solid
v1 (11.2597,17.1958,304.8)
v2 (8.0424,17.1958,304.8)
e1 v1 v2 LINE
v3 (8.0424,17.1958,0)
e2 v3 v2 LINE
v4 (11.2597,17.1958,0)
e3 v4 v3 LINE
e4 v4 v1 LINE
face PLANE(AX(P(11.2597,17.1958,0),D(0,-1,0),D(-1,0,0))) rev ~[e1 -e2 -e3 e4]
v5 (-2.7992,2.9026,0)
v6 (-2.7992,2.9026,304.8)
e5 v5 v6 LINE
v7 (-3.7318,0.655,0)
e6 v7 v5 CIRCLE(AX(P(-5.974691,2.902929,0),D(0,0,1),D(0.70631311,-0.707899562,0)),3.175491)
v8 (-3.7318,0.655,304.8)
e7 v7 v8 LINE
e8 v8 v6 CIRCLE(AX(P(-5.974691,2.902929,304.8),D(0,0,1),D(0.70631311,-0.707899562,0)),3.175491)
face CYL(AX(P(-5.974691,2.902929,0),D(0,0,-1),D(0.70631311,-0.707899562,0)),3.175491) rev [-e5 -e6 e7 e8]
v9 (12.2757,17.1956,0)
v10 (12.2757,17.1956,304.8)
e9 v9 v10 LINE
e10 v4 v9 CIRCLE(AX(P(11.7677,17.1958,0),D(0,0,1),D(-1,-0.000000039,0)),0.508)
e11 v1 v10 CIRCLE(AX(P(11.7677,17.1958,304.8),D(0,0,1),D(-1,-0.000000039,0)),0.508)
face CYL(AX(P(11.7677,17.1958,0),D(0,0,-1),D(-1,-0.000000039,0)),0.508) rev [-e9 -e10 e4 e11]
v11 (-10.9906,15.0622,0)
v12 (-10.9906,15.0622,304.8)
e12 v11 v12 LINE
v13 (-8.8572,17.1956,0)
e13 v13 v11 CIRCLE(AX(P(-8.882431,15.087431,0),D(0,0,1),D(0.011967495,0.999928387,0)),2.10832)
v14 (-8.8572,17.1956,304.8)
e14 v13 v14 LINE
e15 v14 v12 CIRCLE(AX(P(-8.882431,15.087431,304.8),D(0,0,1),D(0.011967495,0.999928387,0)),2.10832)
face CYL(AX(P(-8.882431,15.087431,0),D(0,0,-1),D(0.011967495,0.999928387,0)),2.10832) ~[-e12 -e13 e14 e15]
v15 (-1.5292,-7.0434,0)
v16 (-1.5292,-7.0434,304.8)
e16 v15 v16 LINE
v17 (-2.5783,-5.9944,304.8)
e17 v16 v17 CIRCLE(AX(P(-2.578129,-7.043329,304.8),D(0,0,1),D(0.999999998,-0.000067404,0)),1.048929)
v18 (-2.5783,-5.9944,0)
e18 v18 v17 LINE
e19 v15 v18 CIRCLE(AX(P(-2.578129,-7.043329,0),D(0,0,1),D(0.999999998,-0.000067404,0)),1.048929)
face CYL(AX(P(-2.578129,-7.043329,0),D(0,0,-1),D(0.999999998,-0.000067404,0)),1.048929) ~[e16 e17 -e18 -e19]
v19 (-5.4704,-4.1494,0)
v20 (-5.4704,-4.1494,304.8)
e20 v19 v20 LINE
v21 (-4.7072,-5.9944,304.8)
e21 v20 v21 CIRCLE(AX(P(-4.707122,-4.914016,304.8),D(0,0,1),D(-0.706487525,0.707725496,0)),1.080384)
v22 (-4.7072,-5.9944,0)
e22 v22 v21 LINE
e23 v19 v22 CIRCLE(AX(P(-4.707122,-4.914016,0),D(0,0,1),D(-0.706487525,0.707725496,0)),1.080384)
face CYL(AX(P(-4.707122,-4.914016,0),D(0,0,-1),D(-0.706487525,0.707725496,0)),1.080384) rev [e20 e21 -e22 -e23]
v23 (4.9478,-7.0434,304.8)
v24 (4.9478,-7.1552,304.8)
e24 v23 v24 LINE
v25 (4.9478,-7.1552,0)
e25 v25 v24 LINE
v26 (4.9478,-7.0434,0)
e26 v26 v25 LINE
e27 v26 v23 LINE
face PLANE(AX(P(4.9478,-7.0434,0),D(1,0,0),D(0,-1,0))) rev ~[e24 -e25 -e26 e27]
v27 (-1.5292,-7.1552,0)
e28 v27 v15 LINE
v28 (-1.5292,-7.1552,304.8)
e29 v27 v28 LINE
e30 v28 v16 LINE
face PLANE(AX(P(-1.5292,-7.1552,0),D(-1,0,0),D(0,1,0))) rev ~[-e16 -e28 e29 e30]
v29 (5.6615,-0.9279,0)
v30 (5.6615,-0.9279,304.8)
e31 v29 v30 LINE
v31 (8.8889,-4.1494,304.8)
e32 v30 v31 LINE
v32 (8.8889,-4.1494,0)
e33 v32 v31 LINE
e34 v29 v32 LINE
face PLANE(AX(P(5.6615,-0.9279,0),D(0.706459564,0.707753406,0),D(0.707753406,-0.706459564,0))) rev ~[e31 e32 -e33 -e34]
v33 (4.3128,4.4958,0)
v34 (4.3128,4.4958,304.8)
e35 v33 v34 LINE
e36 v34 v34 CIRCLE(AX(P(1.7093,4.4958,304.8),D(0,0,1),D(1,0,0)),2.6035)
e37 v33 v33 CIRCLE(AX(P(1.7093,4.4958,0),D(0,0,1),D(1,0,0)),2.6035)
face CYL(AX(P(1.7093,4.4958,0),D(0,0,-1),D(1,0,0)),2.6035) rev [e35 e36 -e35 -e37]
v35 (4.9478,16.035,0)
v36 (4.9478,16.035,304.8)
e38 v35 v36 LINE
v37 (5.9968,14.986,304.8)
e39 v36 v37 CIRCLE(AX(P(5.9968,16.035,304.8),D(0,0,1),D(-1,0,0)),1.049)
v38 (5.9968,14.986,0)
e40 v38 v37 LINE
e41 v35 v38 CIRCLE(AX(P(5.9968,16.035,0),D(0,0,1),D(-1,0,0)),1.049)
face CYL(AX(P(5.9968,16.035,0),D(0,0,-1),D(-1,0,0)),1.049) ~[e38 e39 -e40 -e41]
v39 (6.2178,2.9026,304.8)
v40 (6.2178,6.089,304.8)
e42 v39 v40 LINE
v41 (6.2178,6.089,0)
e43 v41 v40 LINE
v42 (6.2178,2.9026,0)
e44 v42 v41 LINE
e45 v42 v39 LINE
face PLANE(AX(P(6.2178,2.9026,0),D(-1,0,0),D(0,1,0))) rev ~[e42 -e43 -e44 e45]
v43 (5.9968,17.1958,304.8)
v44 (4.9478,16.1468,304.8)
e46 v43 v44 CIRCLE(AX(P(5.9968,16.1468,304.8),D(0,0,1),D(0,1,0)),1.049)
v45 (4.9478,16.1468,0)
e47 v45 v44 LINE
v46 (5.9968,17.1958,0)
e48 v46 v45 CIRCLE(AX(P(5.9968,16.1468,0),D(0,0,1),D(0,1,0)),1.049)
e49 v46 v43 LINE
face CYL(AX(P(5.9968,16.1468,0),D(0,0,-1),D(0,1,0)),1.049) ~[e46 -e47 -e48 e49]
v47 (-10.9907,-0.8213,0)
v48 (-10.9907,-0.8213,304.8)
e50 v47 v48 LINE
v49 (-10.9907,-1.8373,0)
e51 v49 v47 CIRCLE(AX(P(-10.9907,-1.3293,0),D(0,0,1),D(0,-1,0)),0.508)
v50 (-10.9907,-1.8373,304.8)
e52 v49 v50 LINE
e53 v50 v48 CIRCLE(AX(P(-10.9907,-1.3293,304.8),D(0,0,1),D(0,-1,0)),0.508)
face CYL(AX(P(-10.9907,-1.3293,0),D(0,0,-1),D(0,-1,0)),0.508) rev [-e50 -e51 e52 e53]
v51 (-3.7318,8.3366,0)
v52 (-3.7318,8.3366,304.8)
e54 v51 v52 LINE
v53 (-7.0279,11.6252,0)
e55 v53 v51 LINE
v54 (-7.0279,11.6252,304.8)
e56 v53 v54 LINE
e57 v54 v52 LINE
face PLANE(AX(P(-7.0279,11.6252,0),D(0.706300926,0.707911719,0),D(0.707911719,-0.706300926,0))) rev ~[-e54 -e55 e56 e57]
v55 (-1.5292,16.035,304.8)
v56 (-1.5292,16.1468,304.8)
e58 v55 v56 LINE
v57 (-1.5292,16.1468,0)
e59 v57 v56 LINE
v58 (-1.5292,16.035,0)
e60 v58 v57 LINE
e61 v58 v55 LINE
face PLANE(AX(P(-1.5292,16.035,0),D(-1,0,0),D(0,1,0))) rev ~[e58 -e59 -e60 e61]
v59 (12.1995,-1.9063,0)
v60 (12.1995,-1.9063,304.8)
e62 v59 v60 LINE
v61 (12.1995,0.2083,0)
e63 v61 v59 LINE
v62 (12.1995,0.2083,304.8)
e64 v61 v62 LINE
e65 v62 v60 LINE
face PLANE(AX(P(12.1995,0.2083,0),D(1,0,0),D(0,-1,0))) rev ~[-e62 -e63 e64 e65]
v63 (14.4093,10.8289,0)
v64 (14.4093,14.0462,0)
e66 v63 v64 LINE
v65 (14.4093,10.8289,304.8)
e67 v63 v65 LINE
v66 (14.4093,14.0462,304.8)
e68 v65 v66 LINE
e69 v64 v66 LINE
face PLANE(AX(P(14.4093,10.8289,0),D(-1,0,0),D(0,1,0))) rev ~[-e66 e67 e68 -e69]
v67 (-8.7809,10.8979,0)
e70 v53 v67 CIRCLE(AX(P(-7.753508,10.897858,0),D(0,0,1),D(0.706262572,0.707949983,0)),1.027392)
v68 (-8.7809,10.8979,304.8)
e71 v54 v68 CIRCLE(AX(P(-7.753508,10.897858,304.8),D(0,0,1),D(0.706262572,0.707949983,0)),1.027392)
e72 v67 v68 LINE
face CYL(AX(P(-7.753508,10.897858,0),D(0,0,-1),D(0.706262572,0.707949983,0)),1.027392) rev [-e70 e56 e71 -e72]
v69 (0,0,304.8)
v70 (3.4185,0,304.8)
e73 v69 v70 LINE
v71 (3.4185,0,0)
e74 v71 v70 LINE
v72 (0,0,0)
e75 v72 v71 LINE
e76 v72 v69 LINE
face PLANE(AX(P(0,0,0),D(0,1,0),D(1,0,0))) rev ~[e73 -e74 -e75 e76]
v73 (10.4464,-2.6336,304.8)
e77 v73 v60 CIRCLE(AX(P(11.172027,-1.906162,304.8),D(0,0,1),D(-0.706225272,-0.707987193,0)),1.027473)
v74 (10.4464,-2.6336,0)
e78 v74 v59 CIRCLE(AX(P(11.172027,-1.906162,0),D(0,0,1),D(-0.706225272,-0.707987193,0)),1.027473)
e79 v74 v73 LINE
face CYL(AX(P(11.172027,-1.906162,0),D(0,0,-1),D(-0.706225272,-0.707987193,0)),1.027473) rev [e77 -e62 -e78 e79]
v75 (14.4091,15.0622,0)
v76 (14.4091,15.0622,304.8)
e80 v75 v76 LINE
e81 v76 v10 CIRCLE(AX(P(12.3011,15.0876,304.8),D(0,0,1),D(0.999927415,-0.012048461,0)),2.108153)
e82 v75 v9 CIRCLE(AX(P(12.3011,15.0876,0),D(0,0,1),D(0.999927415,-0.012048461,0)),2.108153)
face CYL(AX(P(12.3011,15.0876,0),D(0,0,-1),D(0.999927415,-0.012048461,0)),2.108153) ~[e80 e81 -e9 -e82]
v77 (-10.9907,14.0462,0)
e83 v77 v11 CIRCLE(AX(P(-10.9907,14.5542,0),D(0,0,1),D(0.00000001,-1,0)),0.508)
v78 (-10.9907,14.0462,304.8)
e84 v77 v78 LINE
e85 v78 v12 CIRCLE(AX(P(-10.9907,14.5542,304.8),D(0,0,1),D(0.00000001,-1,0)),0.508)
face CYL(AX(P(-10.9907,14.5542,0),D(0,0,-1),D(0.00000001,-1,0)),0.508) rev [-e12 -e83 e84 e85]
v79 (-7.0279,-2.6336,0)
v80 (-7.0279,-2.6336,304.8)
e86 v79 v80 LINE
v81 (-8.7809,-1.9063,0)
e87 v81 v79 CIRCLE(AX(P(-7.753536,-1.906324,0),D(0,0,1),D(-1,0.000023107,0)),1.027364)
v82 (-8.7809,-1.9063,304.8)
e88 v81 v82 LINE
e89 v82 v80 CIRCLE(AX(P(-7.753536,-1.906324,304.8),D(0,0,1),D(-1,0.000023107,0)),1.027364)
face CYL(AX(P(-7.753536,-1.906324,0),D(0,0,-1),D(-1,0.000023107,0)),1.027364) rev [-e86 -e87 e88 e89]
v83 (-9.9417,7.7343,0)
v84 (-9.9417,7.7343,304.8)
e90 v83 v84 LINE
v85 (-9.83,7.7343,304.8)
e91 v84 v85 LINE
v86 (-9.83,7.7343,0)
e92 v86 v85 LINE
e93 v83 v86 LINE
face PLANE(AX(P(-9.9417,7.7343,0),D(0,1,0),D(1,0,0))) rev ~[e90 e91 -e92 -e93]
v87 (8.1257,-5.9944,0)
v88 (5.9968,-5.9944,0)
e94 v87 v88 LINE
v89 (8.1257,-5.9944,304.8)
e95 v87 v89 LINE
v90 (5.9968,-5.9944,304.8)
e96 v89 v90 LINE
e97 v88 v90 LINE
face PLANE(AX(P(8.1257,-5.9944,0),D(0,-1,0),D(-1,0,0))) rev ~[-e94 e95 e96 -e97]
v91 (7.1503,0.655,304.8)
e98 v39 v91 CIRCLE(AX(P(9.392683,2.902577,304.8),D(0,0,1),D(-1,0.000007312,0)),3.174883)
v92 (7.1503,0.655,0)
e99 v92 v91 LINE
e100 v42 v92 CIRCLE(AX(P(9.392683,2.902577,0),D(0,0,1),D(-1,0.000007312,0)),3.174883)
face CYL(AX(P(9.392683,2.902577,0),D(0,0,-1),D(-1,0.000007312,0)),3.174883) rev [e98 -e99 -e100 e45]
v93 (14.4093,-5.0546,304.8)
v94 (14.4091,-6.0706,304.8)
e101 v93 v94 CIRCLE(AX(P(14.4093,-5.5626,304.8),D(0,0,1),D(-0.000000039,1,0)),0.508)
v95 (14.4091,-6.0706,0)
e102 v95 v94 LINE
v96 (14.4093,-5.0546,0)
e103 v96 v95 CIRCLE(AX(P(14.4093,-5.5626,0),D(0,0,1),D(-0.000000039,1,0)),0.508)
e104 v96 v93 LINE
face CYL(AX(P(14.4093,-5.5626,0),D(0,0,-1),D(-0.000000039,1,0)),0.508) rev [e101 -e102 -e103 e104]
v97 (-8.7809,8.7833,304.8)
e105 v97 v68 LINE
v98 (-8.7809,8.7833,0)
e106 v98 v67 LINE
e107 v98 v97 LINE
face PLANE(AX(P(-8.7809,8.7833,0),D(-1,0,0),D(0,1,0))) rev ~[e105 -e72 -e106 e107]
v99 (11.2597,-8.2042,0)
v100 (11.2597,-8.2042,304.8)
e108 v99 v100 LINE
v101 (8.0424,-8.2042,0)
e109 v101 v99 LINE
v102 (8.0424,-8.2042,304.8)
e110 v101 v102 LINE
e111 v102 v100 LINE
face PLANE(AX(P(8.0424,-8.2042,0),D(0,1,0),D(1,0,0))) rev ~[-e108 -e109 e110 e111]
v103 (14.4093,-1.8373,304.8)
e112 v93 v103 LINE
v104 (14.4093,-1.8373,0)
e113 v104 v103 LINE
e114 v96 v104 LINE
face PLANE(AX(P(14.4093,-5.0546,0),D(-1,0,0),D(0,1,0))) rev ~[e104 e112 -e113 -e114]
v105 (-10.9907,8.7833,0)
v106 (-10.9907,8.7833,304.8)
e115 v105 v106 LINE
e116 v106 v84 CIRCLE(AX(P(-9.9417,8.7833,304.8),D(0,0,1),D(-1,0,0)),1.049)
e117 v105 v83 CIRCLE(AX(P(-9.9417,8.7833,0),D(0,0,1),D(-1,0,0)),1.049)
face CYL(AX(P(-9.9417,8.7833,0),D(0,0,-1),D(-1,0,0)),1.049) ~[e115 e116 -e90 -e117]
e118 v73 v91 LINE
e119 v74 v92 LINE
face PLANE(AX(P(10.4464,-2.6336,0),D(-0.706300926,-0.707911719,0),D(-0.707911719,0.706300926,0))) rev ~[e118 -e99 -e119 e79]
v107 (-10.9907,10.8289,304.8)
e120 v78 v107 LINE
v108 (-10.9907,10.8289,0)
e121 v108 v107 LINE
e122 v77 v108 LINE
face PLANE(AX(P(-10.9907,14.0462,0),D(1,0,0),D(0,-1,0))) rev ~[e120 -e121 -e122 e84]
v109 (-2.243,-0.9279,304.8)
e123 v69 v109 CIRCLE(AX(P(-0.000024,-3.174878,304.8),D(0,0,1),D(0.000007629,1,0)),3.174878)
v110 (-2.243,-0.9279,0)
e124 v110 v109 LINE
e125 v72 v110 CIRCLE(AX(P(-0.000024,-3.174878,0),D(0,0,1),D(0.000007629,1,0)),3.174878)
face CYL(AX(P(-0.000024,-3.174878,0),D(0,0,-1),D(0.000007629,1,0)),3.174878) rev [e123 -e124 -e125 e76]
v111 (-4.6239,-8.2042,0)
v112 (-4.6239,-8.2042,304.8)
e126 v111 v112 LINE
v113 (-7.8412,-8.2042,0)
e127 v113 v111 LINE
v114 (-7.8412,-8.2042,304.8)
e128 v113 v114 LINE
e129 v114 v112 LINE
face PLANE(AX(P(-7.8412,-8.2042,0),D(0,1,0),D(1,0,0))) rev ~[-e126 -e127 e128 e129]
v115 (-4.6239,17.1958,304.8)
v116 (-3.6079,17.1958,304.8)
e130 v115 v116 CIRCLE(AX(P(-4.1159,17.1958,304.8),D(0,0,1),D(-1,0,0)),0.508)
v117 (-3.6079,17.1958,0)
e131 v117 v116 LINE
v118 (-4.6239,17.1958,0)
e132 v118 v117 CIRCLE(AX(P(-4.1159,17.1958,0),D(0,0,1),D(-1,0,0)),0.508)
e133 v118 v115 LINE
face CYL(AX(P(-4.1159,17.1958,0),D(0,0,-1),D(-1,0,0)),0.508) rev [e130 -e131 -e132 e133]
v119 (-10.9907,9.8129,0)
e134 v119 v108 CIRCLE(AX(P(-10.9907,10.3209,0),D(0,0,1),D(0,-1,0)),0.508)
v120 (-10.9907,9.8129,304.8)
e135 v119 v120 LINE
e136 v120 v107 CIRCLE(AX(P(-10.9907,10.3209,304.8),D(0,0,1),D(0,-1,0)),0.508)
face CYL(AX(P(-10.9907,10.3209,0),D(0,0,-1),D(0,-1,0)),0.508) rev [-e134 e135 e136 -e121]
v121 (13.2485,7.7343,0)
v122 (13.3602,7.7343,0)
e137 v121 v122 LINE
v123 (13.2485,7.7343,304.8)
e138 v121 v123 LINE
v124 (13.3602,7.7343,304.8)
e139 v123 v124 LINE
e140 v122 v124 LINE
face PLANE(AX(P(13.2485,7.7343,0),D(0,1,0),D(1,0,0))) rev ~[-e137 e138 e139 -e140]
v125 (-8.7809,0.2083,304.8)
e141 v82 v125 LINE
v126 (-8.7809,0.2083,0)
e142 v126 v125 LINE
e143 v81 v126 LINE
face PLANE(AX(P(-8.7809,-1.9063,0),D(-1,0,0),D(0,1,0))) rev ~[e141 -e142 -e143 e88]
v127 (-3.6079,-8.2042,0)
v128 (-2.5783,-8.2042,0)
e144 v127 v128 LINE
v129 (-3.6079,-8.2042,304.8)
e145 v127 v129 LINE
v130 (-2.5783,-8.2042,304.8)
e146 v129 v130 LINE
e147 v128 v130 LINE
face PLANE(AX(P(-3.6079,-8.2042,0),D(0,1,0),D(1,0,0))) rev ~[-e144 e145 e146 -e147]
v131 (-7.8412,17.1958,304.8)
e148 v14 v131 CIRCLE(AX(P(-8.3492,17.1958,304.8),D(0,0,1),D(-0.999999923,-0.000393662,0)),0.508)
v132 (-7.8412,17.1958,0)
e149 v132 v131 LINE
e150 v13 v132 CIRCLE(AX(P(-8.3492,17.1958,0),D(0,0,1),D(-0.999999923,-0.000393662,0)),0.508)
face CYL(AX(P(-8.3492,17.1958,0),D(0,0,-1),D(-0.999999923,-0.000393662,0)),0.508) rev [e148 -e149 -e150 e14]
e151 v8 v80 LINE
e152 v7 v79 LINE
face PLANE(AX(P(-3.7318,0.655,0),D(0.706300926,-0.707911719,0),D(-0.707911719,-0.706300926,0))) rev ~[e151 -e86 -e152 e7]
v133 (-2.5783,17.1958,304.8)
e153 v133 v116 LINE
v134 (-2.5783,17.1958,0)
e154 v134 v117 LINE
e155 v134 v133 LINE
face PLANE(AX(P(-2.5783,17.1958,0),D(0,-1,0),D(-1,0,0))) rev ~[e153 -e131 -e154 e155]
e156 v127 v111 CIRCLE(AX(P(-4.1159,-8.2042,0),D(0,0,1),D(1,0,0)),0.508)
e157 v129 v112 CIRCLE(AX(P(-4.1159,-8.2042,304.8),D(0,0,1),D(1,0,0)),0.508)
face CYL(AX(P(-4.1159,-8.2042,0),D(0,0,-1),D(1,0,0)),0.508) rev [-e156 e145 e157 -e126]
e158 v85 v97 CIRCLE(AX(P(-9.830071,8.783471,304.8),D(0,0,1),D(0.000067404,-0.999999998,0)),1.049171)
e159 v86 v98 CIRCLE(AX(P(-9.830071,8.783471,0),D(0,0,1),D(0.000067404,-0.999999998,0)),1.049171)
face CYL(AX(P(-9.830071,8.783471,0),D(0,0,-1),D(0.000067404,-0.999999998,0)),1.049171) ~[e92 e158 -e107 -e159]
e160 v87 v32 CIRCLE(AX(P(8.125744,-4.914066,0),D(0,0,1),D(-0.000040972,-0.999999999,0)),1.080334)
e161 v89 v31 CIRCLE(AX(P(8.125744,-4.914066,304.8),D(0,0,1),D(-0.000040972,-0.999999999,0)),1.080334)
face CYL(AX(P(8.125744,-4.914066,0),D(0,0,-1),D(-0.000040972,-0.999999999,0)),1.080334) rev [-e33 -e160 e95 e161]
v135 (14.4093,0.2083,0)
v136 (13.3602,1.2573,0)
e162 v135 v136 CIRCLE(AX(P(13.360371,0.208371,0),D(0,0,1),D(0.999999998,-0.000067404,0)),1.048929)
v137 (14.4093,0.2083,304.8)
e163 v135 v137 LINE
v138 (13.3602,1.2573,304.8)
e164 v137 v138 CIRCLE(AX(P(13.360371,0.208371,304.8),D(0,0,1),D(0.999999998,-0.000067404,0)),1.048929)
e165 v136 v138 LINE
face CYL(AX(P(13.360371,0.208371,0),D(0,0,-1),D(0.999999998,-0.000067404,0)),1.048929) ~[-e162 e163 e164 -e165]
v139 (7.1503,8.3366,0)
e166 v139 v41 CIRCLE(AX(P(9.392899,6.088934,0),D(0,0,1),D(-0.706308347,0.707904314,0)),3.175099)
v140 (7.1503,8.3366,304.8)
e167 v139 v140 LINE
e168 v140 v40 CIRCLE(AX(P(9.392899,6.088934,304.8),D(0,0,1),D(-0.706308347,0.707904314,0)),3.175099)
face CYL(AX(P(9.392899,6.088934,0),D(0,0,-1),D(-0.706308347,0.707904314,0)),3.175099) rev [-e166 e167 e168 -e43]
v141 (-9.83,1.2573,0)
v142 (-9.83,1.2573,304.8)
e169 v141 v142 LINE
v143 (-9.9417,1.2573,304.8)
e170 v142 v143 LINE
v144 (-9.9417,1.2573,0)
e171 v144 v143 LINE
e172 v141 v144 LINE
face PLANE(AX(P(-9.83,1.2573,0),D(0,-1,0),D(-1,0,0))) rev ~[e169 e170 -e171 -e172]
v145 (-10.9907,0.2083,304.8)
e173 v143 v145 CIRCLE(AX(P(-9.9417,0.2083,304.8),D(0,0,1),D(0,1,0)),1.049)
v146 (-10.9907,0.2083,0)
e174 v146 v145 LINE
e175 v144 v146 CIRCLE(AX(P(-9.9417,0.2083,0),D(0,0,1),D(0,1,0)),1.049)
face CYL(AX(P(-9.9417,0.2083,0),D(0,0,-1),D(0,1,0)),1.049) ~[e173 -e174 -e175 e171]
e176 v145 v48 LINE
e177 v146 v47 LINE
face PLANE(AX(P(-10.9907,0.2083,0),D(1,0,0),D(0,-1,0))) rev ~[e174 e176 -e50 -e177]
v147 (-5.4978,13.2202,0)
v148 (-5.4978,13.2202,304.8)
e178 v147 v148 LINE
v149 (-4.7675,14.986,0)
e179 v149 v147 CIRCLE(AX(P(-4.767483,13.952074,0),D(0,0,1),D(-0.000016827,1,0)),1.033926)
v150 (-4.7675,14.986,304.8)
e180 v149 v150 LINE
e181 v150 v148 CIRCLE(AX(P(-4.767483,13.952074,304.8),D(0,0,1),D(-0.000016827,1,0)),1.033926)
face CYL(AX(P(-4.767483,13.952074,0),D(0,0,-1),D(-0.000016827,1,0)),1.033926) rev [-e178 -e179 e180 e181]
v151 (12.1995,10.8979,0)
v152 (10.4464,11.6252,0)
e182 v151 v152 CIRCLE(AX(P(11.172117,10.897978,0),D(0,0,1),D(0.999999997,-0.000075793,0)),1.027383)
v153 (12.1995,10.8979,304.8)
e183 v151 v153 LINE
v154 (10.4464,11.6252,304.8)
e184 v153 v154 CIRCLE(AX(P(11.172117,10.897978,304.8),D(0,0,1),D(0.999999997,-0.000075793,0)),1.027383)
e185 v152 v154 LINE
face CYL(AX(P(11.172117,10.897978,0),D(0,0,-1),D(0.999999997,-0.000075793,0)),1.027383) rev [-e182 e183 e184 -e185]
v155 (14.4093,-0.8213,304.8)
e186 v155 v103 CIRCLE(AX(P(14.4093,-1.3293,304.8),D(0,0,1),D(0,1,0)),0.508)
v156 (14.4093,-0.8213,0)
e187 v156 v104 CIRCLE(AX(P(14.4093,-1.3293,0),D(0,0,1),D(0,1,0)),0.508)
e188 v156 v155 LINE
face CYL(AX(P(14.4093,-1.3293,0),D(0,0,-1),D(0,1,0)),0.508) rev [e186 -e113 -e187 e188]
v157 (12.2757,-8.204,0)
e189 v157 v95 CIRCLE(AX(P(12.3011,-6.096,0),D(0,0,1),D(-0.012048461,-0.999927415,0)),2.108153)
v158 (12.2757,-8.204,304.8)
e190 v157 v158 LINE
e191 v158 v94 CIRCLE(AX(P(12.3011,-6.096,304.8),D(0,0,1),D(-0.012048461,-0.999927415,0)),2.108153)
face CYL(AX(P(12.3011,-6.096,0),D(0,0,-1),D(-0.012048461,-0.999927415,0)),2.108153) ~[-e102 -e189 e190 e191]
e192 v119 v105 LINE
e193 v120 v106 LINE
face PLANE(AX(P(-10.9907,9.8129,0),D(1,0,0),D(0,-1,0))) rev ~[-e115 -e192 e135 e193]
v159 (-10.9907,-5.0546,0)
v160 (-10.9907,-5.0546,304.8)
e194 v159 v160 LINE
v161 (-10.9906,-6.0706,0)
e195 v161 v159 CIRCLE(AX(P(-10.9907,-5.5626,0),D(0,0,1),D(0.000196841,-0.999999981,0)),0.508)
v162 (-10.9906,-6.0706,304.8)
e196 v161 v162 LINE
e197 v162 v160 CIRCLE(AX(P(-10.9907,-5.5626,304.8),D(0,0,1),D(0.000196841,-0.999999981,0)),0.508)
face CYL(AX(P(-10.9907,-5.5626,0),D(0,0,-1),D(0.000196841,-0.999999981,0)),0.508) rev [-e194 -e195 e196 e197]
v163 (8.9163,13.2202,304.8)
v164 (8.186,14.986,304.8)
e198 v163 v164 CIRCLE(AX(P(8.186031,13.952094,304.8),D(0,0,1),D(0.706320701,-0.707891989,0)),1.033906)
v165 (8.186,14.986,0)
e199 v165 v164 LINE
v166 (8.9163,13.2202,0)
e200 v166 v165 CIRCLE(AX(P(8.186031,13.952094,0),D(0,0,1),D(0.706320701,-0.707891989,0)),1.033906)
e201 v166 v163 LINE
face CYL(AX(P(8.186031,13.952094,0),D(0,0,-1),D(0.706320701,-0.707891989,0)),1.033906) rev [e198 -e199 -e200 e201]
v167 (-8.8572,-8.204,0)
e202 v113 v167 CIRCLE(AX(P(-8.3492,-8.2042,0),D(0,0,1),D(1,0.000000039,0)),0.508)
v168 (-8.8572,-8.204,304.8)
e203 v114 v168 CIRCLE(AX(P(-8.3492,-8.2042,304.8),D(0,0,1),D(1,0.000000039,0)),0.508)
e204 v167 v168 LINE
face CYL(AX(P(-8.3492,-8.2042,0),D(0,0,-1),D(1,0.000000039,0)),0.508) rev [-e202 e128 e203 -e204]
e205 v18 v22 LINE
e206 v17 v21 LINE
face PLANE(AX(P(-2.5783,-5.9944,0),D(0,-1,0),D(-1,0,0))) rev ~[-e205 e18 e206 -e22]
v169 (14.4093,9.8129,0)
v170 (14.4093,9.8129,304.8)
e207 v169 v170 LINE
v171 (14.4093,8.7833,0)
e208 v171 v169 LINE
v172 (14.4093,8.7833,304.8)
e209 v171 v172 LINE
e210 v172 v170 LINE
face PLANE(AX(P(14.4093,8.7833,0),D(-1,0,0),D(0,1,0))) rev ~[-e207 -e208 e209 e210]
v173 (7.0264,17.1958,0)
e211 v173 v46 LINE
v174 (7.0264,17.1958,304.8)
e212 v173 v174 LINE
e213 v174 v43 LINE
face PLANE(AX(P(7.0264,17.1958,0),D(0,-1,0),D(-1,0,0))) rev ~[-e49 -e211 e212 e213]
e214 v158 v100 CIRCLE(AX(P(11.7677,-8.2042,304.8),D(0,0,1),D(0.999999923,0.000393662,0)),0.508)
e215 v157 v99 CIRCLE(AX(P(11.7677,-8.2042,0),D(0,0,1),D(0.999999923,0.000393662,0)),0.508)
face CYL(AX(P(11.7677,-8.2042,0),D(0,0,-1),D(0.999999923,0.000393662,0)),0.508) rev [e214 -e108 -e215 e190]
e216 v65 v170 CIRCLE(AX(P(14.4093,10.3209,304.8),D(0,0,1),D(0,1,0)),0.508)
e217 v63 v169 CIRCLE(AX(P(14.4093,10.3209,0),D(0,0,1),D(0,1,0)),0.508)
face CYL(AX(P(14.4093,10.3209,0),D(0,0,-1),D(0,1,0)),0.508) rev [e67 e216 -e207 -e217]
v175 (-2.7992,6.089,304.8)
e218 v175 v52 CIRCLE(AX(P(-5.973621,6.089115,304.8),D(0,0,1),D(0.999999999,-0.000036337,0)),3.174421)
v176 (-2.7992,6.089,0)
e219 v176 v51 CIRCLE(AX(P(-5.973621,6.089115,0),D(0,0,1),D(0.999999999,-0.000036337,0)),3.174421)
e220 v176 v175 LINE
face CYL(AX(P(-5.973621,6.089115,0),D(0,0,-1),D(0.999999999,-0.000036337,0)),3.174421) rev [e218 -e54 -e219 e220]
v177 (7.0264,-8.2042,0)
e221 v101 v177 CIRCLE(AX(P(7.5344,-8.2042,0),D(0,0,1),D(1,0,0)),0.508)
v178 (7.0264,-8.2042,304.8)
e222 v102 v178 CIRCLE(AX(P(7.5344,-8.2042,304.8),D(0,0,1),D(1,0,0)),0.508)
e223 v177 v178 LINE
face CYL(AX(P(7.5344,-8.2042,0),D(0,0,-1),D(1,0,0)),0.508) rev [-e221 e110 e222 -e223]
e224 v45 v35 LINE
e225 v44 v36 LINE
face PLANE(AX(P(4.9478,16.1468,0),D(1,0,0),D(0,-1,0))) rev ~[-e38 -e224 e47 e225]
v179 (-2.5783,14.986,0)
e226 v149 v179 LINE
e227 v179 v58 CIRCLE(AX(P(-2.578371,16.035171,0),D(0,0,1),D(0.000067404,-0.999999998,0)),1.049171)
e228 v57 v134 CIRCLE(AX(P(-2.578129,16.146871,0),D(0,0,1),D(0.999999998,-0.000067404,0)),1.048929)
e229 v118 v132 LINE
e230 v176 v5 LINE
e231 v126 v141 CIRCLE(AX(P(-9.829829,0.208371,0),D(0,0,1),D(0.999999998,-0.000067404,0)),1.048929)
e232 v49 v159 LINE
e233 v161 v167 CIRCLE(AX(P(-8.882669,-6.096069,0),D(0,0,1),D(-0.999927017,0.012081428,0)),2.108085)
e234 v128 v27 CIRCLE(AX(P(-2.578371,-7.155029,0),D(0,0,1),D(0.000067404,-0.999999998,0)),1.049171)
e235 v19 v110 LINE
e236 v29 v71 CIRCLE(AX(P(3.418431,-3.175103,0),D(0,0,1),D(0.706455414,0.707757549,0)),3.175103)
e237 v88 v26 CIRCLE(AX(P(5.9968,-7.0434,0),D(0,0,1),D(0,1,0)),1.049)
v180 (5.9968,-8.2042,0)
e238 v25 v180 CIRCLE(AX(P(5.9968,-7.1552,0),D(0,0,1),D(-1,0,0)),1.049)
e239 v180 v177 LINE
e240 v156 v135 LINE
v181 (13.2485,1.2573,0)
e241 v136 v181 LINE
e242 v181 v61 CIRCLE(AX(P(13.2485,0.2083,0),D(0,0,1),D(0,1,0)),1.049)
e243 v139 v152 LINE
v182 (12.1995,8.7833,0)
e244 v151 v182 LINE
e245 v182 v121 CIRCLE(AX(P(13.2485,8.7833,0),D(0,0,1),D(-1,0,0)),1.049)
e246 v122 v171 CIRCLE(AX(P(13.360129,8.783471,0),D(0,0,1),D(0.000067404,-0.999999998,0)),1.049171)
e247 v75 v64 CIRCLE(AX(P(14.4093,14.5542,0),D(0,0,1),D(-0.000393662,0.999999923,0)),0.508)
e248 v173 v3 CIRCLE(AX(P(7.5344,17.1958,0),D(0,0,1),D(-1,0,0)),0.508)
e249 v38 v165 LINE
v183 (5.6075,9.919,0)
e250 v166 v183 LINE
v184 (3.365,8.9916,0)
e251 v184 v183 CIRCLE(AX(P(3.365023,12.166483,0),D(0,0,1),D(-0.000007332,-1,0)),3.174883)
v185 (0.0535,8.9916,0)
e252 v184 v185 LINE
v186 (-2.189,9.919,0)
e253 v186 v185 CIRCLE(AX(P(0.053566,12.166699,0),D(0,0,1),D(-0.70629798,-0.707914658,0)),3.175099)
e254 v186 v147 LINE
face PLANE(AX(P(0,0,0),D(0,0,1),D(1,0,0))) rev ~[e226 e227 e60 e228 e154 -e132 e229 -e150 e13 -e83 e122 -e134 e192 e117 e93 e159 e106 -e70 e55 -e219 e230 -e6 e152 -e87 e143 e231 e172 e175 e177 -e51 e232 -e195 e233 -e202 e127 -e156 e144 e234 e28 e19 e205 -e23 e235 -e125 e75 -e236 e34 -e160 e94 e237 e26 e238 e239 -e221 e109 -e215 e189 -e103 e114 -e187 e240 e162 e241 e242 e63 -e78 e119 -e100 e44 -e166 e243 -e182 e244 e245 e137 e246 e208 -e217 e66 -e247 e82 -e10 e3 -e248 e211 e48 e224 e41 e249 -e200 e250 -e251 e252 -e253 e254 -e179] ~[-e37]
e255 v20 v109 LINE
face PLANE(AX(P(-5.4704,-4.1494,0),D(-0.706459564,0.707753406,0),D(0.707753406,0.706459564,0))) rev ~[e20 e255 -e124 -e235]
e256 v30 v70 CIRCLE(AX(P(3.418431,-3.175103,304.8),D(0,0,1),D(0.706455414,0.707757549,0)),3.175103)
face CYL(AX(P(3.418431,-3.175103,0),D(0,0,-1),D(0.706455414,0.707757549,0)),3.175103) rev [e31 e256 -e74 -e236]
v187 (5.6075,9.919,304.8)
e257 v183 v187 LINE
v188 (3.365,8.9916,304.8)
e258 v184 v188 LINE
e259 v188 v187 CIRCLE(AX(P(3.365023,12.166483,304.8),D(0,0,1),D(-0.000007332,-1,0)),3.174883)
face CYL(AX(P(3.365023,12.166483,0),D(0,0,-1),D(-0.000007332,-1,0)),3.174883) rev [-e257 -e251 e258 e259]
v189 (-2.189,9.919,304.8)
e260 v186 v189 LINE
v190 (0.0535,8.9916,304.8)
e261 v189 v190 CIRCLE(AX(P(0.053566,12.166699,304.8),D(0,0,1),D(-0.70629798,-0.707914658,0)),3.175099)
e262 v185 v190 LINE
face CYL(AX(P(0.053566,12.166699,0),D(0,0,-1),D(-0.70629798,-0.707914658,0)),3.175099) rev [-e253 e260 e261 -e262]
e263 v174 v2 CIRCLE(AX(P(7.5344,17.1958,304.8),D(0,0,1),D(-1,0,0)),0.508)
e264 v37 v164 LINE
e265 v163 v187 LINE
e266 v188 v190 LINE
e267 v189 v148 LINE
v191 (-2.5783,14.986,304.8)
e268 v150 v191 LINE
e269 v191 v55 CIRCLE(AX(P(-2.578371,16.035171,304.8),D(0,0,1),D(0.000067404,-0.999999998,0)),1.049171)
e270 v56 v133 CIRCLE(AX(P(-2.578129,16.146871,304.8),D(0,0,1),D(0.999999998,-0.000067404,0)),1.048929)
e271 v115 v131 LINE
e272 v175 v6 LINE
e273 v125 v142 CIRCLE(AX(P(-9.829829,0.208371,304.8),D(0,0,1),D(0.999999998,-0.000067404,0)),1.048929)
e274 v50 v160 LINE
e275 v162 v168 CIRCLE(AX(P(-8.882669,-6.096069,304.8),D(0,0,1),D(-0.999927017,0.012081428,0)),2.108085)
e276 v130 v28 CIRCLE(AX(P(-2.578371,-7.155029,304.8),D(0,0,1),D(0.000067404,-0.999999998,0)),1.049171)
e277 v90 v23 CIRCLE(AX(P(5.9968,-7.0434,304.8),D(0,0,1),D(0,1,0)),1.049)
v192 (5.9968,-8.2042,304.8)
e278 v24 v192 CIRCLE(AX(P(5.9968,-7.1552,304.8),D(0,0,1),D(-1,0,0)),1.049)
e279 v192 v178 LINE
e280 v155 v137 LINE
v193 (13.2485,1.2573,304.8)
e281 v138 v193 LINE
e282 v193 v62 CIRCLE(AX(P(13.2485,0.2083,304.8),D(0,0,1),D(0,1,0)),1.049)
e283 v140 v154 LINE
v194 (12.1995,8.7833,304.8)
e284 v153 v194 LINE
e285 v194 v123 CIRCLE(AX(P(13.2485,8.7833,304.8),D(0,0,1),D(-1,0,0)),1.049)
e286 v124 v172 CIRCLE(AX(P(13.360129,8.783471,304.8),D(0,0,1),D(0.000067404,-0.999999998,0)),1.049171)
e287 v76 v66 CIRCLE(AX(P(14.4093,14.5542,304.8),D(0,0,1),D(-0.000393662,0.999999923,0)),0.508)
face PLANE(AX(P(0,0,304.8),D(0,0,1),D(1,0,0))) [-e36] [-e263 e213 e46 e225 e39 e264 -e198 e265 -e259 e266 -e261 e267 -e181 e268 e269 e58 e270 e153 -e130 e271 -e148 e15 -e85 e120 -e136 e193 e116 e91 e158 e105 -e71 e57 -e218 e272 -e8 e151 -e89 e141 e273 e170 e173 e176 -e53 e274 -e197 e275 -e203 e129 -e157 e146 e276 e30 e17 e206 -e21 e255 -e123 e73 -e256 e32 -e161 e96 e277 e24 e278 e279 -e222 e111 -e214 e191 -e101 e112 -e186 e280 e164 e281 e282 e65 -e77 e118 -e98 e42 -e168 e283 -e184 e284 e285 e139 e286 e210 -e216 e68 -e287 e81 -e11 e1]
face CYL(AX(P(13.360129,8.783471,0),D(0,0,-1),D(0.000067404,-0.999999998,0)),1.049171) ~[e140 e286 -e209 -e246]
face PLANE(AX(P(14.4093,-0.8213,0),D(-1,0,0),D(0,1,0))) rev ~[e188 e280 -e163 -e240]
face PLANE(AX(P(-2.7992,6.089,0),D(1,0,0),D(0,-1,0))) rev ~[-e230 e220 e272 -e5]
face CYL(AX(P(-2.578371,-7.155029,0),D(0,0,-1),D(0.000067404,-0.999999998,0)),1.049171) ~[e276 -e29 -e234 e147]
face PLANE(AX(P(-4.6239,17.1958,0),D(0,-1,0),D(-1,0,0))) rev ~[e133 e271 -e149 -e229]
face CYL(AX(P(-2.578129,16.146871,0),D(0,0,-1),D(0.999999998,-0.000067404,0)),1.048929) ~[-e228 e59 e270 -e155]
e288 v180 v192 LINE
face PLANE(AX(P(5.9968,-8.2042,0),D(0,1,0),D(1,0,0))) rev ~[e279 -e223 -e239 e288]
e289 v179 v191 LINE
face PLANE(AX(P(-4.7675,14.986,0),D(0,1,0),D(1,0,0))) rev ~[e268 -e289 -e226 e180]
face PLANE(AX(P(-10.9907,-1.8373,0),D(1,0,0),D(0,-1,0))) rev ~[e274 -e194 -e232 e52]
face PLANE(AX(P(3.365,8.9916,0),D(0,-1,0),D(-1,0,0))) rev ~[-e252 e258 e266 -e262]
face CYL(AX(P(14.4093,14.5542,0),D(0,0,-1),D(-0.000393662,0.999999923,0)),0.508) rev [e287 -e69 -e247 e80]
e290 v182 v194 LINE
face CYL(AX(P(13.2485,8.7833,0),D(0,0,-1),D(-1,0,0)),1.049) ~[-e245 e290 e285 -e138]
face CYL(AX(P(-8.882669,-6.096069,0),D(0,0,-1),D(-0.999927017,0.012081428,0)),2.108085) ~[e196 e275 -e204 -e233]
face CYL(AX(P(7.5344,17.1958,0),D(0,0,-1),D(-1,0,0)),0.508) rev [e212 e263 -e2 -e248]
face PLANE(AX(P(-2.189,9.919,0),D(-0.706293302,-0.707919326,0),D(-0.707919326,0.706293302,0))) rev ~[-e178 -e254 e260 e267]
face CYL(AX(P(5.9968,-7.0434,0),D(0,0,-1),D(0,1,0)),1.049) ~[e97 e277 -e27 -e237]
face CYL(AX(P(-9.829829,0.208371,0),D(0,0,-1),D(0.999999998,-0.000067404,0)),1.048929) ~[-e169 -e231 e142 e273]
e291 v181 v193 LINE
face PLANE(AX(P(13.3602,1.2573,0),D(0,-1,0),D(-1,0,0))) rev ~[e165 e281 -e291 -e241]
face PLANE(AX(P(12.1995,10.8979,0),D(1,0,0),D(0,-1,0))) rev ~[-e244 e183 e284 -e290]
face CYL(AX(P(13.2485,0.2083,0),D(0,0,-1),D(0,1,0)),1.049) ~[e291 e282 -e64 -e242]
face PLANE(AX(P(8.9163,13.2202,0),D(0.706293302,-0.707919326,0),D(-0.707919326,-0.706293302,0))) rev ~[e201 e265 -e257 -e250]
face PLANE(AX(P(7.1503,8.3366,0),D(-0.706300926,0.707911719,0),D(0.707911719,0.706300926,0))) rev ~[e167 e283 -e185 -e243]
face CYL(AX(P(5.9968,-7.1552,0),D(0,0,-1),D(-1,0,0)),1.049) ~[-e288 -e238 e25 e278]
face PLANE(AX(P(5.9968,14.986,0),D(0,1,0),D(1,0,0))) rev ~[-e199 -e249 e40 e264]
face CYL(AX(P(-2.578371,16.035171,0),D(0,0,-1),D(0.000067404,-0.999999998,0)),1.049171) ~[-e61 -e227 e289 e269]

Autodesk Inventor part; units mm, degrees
ref_plane "YZ Plane" through (0, 0, 0) normal (1, 0, 0) x (0, 1, 0)
ref_plane "XZ Plane" through (0, 0, 0) normal (0, 1, 0) x (-1, 0, 0)
ref_plane "XY Plane" through (0, 0, 0) normal (0, 0, 1) x (1, 0, 0)
sketch "Sketch1" plane through (0, 0, 0) normal (0, 0, 1) x (1, 0, 0)
  arc A0 (-5.4704, -4.1494) -> (-4.7072, -5.9944) centre (-4.7072, -4.914) ccw
  line L0 (-5.4704, -4.1494) -> (-2.243, -0.9279)
  arc A1 (0, 0) -> (-2.243, -0.9279) centre (0, -3.175) ccw
  line L1 (0, 0) -> (3.4185, 0)
  arc A2 (5.6615, -0.9279) -> (3.4185, 0) centre (3.4185, -3.175) ccw
  line L2 (5.6615, -0.9279) -> (8.8889, -4.1494)
  arc A3 (8.1257, -5.9944) -> (8.8889, -4.1494) centre (8.1257, -4.914) ccw
  line L3 (8.1257, -5.9944) -> (5.9968, -5.9944)
  arc A4 (5.9968, -5.9944) -> (4.9478, -7.0434) centre (5.9968, -7.0434) ccw
  line L4 (4.9478, -7.0434) -> (4.9478, -7.1552)
  arc A5 (4.9478, -7.1552) -> (5.9968, -8.2042) centre (5.9968, -7.1552) ccw
  line L5 (5.9968, -8.2042) -> (7.0264, -8.2042)
  arc A6 (8.0424, -8.2042) -> (7.0264, -8.2042) centre (7.5344, -8.2042) ccw
  line L6 (8.0424, -8.2042) -> (11.2597, -8.2042)
  arc A7 (12.2757, -8.204) -> (11.2597, -8.2042) centre (11.7677, -8.2042) ccw
  arc A8 (12.2757, -8.204) -> (14.4091, -6.0706) centre (12.3011, -6.096) ccw
  arc A9 (14.4093, -5.0546) -> (14.4091, -6.0706) centre (14.4093, -5.5626) ccw
  line L7 (14.4093, -5.0546) -> (14.4093, -1.8373)
  arc A10 (14.4093, -0.8213) -> (14.4093, -1.8373) centre (14.4093, -1.3293) ccw
  line L8 (14.4093, -0.8213) -> (14.4093, 0.2083)
  arc A11 (14.4093, 0.2083) -> (13.3602, 1.2573) centre (13.3602, 0.2083) ccw
  line L9 (13.3602, 1.2573) -> (13.2485, 1.2573)
  arc A12 (13.2485, 1.2573) -> (12.1995, 0.2083) centre (13.2485, 0.2083) ccw
  line L10 (12.1995, 0.2083) -> (12.1995, -1.9063)
  arc A13 (10.4464, -2.6336) -> (12.1995, -1.9063) centre (11.172, -1.9063) ccw
  line L11 (10.4464, -2.6336) -> (7.1503, 0.655)
  arc A14 (6.2178, 2.9026) -> (7.1503, 0.655) centre (9.3928, 2.9026) ccw
  line L12 (6.2178, 2.9026) -> (6.2178, 6.089)
  arc A15 (7.1503, 8.3366) -> (6.2178, 6.089) centre (9.3928, 6.089) ccw
  line L13 (7.1503, 8.3366) -> (10.4464, 11.6252)
  arc A16 (12.1995, 10.8979) -> (10.4464, 11.6252) centre (11.172, 10.8979) ccw
  line L14 (12.1995, 10.8979) -> (12.1995, 8.7833)
  arc A17 (12.1995, 8.7833) -> (13.2485, 7.7343) centre (13.2485, 8.7833) ccw
  line L15 (13.2485, 7.7343) -> (13.3602, 7.7343)
  arc A18 (13.3602, 7.7343) -> (14.4093, 8.7833) centre (13.3602, 8.7833) ccw
  line L16 (14.4093, 8.7833) -> (14.4093, 9.8129)
  arc A19 (14.4093, 10.8289) -> (14.4093, 9.8129) centre (14.4093, 10.3209) ccw
  line L17 (14.4093, 10.8289) -> (14.4093, 14.0462)
  arc A20 (14.4091, 15.0622) -> (14.4093, 14.0462) centre (14.4093, 14.5542) ccw
  arc A21 (14.4091, 15.0622) -> (12.2757, 17.1956) centre (12.3011, 15.0876) ccw
  arc A22 (11.2597, 17.1958) -> (12.2757, 17.1956) centre (11.7677, 17.1958) ccw
  line L18 (11.2597, 17.1958) -> (8.0424, 17.1958)
  arc A23 (7.0264, 17.1958) -> (8.0424, 17.1958) centre (7.5344, 17.1958) ccw
  line L19 (7.0264, 17.1958) -> (5.9968, 17.1958)
  arc A24 (5.9968, 17.1958) -> (4.9478, 16.1468) centre (5.9968, 16.1468) ccw
  line L20 (4.9478, 16.1468) -> (4.9478, 16.035)
  arc A25 (4.9478, 16.035) -> (5.9968, 14.986) centre (5.9968, 16.035) ccw
  line L21 (5.9968, 14.986) -> (8.186, 14.986)
  arc A26 (8.9163, 13.2202) -> (8.186, 14.986) centre (8.186, 13.9521) ccw
  line L22 (8.9163, 13.2202) -> (5.6075, 9.919)
  arc A27 (3.365, 8.9916) -> (5.6075, 9.919) centre (3.365, 12.1666) ccw
  line L23 (3.365, 8.9916) -> (0.0535, 8.9916)
  arc A28 (-2.189, 9.919) -> (0.0535, 8.9916) centre (0.0535, 12.1666) ccw
  line L24 (-2.189, 9.919) -> (-5.4978, 13.2202)
  arc A29 (-4.7675, 14.986) -> (-5.4978, 13.2202) centre (-4.7675, 13.9521) ccw
  line L25 (-4.7675, 14.986) -> (-2.5783, 14.986)
  arc A30 (-2.5783, 14.986) -> (-1.5292, 16.035) centre (-2.5783, 16.035) ccw
  line L26 (-1.5292, 16.035) -> (-1.5292, 16.1468)
  arc A31 (-1.5292, 16.1468) -> (-2.5783, 17.1958) centre (-2.5783, 16.1468) ccw
  line L27 (-2.5783, 17.1958) -> (-3.6079, 17.1958)
  arc A32 (-4.6239, 17.1958) -> (-3.6079, 17.1958) centre (-4.1159, 17.1958) ccw
  line L28 (-4.6239, 17.1958) -> (-7.8412, 17.1958)
  arc A33 (-8.8572, 17.1956) -> (-7.8412, 17.1958) centre (-8.3492, 17.1958) ccw
  arc A34 (-8.8572, 17.1956) -> (-10.9906, 15.0622) centre (-8.8825, 15.0876) ccw
  arc A35 (-10.9907, 14.0462) -> (-10.9906, 15.0622) centre (-10.9907, 14.5542) ccw
  line L29 (-10.9907, 14.0462) -> (-10.9907, 10.8289)
  arc A36 (-10.9907, 9.8129) -> (-10.9907, 10.8289) centre (-10.9907, 10.3209) ccw
  line L30 (-10.9907, 9.8129) -> (-10.9907, 8.7833)
  arc A37 (-10.9907, 8.7833) -> (-9.9417, 7.7343) centre (-9.9417, 8.7833) ccw
  line L31 (-9.9417, 7.7343) -> (-9.83, 7.7343)
  arc A38 (-9.83, 7.7343) -> (-8.7809, 8.7833) centre (-9.83, 8.7833) ccw
  line L32 (-8.7809, 8.7833) -> (-8.7809, 10.8979)
  arc A39 (-7.0279, 11.6252) -> (-8.7809, 10.8979) centre (-7.7535, 10.8979) ccw
  line L33 (-7.0279, 11.6252) -> (-3.7318, 8.3366)
  arc A40 (-2.7992, 6.089) -> (-3.7318, 8.3366) centre (-5.9742, 6.089) ccw
  line L34 (-2.7992, 6.089) -> (-2.7992, 2.9026)
  arc A41 (-3.7318, 0.655) -> (-2.7992, 2.9026) centre (-5.9742, 2.9026) ccw
  line L35 (-3.7318, 0.655) -> (-7.0279, -2.6336)
  arc A42 (-8.7809, -1.9063) -> (-7.0279, -2.6336) centre (-7.7535, -1.9063) ccw
  line L36 (-8.7809, -1.9063) -> (-8.7809, 0.2083)
  arc A43 (-8.7809, 0.2083) -> (-9.83, 1.2573) centre (-9.83, 0.2083) ccw
  line L37 (-9.83, 1.2573) -> (-9.9417, 1.2573)
  arc A44 (-9.9417, 1.2573) -> (-10.9907, 0.2083) centre (-9.9417, 0.2083) ccw
  line L38 (-10.9907, 0.2083) -> (-10.9907, -0.8213)
  arc A45 (-10.9907, -1.8373) -> (-10.9907, -0.8213) centre (-10.9907, -1.3293) ccw
  line L39 (-10.9907, -1.8373) -> (-10.9907, -5.0546)
  arc A46 (-10.9906, -6.0706) -> (-10.9907, -5.0546) centre (-10.9907, -5.5626) ccw
  arc A47 (-10.9906, -6.0706) -> (-8.8572, -8.204) centre (-8.8825, -6.096) ccw
  arc A48 (-7.8412, -8.2042) -> (-8.8572, -8.204) centre (-8.3492, -8.2042) ccw
  line L40 (-7.8412, -8.2042) -> (-4.6239, -8.2042)
  arc A49 (-3.6079, -8.2042) -> (-4.6239, -8.2042) centre (-4.1159, -8.2042) ccw
  line L41 (-3.6079, -8.2042) -> (-2.5783, -8.2042)
  arc A50 (-2.5783, -8.2042) -> (-1.5292, -7.1552) centre (-2.5783, -7.1552) ccw
  line L42 (-1.5292, -7.1552) -> (-1.5292, -7.0434)
  arc A51 (-1.5292, -7.0434) -> (-2.5783, -5.9944) centre (-2.5783, -7.0434) ccw
  line L43 (-2.5783, -5.9944) -> (-4.7072, -5.9944)
  circle A52 centre (1.7093, 4.4958) radius 2.6035
extrude "Extrusion1" add sketch "Sketch1" along normal blind 304.8
properties part number "12 in 1x1 T slot" material "Steel, Alloy"
